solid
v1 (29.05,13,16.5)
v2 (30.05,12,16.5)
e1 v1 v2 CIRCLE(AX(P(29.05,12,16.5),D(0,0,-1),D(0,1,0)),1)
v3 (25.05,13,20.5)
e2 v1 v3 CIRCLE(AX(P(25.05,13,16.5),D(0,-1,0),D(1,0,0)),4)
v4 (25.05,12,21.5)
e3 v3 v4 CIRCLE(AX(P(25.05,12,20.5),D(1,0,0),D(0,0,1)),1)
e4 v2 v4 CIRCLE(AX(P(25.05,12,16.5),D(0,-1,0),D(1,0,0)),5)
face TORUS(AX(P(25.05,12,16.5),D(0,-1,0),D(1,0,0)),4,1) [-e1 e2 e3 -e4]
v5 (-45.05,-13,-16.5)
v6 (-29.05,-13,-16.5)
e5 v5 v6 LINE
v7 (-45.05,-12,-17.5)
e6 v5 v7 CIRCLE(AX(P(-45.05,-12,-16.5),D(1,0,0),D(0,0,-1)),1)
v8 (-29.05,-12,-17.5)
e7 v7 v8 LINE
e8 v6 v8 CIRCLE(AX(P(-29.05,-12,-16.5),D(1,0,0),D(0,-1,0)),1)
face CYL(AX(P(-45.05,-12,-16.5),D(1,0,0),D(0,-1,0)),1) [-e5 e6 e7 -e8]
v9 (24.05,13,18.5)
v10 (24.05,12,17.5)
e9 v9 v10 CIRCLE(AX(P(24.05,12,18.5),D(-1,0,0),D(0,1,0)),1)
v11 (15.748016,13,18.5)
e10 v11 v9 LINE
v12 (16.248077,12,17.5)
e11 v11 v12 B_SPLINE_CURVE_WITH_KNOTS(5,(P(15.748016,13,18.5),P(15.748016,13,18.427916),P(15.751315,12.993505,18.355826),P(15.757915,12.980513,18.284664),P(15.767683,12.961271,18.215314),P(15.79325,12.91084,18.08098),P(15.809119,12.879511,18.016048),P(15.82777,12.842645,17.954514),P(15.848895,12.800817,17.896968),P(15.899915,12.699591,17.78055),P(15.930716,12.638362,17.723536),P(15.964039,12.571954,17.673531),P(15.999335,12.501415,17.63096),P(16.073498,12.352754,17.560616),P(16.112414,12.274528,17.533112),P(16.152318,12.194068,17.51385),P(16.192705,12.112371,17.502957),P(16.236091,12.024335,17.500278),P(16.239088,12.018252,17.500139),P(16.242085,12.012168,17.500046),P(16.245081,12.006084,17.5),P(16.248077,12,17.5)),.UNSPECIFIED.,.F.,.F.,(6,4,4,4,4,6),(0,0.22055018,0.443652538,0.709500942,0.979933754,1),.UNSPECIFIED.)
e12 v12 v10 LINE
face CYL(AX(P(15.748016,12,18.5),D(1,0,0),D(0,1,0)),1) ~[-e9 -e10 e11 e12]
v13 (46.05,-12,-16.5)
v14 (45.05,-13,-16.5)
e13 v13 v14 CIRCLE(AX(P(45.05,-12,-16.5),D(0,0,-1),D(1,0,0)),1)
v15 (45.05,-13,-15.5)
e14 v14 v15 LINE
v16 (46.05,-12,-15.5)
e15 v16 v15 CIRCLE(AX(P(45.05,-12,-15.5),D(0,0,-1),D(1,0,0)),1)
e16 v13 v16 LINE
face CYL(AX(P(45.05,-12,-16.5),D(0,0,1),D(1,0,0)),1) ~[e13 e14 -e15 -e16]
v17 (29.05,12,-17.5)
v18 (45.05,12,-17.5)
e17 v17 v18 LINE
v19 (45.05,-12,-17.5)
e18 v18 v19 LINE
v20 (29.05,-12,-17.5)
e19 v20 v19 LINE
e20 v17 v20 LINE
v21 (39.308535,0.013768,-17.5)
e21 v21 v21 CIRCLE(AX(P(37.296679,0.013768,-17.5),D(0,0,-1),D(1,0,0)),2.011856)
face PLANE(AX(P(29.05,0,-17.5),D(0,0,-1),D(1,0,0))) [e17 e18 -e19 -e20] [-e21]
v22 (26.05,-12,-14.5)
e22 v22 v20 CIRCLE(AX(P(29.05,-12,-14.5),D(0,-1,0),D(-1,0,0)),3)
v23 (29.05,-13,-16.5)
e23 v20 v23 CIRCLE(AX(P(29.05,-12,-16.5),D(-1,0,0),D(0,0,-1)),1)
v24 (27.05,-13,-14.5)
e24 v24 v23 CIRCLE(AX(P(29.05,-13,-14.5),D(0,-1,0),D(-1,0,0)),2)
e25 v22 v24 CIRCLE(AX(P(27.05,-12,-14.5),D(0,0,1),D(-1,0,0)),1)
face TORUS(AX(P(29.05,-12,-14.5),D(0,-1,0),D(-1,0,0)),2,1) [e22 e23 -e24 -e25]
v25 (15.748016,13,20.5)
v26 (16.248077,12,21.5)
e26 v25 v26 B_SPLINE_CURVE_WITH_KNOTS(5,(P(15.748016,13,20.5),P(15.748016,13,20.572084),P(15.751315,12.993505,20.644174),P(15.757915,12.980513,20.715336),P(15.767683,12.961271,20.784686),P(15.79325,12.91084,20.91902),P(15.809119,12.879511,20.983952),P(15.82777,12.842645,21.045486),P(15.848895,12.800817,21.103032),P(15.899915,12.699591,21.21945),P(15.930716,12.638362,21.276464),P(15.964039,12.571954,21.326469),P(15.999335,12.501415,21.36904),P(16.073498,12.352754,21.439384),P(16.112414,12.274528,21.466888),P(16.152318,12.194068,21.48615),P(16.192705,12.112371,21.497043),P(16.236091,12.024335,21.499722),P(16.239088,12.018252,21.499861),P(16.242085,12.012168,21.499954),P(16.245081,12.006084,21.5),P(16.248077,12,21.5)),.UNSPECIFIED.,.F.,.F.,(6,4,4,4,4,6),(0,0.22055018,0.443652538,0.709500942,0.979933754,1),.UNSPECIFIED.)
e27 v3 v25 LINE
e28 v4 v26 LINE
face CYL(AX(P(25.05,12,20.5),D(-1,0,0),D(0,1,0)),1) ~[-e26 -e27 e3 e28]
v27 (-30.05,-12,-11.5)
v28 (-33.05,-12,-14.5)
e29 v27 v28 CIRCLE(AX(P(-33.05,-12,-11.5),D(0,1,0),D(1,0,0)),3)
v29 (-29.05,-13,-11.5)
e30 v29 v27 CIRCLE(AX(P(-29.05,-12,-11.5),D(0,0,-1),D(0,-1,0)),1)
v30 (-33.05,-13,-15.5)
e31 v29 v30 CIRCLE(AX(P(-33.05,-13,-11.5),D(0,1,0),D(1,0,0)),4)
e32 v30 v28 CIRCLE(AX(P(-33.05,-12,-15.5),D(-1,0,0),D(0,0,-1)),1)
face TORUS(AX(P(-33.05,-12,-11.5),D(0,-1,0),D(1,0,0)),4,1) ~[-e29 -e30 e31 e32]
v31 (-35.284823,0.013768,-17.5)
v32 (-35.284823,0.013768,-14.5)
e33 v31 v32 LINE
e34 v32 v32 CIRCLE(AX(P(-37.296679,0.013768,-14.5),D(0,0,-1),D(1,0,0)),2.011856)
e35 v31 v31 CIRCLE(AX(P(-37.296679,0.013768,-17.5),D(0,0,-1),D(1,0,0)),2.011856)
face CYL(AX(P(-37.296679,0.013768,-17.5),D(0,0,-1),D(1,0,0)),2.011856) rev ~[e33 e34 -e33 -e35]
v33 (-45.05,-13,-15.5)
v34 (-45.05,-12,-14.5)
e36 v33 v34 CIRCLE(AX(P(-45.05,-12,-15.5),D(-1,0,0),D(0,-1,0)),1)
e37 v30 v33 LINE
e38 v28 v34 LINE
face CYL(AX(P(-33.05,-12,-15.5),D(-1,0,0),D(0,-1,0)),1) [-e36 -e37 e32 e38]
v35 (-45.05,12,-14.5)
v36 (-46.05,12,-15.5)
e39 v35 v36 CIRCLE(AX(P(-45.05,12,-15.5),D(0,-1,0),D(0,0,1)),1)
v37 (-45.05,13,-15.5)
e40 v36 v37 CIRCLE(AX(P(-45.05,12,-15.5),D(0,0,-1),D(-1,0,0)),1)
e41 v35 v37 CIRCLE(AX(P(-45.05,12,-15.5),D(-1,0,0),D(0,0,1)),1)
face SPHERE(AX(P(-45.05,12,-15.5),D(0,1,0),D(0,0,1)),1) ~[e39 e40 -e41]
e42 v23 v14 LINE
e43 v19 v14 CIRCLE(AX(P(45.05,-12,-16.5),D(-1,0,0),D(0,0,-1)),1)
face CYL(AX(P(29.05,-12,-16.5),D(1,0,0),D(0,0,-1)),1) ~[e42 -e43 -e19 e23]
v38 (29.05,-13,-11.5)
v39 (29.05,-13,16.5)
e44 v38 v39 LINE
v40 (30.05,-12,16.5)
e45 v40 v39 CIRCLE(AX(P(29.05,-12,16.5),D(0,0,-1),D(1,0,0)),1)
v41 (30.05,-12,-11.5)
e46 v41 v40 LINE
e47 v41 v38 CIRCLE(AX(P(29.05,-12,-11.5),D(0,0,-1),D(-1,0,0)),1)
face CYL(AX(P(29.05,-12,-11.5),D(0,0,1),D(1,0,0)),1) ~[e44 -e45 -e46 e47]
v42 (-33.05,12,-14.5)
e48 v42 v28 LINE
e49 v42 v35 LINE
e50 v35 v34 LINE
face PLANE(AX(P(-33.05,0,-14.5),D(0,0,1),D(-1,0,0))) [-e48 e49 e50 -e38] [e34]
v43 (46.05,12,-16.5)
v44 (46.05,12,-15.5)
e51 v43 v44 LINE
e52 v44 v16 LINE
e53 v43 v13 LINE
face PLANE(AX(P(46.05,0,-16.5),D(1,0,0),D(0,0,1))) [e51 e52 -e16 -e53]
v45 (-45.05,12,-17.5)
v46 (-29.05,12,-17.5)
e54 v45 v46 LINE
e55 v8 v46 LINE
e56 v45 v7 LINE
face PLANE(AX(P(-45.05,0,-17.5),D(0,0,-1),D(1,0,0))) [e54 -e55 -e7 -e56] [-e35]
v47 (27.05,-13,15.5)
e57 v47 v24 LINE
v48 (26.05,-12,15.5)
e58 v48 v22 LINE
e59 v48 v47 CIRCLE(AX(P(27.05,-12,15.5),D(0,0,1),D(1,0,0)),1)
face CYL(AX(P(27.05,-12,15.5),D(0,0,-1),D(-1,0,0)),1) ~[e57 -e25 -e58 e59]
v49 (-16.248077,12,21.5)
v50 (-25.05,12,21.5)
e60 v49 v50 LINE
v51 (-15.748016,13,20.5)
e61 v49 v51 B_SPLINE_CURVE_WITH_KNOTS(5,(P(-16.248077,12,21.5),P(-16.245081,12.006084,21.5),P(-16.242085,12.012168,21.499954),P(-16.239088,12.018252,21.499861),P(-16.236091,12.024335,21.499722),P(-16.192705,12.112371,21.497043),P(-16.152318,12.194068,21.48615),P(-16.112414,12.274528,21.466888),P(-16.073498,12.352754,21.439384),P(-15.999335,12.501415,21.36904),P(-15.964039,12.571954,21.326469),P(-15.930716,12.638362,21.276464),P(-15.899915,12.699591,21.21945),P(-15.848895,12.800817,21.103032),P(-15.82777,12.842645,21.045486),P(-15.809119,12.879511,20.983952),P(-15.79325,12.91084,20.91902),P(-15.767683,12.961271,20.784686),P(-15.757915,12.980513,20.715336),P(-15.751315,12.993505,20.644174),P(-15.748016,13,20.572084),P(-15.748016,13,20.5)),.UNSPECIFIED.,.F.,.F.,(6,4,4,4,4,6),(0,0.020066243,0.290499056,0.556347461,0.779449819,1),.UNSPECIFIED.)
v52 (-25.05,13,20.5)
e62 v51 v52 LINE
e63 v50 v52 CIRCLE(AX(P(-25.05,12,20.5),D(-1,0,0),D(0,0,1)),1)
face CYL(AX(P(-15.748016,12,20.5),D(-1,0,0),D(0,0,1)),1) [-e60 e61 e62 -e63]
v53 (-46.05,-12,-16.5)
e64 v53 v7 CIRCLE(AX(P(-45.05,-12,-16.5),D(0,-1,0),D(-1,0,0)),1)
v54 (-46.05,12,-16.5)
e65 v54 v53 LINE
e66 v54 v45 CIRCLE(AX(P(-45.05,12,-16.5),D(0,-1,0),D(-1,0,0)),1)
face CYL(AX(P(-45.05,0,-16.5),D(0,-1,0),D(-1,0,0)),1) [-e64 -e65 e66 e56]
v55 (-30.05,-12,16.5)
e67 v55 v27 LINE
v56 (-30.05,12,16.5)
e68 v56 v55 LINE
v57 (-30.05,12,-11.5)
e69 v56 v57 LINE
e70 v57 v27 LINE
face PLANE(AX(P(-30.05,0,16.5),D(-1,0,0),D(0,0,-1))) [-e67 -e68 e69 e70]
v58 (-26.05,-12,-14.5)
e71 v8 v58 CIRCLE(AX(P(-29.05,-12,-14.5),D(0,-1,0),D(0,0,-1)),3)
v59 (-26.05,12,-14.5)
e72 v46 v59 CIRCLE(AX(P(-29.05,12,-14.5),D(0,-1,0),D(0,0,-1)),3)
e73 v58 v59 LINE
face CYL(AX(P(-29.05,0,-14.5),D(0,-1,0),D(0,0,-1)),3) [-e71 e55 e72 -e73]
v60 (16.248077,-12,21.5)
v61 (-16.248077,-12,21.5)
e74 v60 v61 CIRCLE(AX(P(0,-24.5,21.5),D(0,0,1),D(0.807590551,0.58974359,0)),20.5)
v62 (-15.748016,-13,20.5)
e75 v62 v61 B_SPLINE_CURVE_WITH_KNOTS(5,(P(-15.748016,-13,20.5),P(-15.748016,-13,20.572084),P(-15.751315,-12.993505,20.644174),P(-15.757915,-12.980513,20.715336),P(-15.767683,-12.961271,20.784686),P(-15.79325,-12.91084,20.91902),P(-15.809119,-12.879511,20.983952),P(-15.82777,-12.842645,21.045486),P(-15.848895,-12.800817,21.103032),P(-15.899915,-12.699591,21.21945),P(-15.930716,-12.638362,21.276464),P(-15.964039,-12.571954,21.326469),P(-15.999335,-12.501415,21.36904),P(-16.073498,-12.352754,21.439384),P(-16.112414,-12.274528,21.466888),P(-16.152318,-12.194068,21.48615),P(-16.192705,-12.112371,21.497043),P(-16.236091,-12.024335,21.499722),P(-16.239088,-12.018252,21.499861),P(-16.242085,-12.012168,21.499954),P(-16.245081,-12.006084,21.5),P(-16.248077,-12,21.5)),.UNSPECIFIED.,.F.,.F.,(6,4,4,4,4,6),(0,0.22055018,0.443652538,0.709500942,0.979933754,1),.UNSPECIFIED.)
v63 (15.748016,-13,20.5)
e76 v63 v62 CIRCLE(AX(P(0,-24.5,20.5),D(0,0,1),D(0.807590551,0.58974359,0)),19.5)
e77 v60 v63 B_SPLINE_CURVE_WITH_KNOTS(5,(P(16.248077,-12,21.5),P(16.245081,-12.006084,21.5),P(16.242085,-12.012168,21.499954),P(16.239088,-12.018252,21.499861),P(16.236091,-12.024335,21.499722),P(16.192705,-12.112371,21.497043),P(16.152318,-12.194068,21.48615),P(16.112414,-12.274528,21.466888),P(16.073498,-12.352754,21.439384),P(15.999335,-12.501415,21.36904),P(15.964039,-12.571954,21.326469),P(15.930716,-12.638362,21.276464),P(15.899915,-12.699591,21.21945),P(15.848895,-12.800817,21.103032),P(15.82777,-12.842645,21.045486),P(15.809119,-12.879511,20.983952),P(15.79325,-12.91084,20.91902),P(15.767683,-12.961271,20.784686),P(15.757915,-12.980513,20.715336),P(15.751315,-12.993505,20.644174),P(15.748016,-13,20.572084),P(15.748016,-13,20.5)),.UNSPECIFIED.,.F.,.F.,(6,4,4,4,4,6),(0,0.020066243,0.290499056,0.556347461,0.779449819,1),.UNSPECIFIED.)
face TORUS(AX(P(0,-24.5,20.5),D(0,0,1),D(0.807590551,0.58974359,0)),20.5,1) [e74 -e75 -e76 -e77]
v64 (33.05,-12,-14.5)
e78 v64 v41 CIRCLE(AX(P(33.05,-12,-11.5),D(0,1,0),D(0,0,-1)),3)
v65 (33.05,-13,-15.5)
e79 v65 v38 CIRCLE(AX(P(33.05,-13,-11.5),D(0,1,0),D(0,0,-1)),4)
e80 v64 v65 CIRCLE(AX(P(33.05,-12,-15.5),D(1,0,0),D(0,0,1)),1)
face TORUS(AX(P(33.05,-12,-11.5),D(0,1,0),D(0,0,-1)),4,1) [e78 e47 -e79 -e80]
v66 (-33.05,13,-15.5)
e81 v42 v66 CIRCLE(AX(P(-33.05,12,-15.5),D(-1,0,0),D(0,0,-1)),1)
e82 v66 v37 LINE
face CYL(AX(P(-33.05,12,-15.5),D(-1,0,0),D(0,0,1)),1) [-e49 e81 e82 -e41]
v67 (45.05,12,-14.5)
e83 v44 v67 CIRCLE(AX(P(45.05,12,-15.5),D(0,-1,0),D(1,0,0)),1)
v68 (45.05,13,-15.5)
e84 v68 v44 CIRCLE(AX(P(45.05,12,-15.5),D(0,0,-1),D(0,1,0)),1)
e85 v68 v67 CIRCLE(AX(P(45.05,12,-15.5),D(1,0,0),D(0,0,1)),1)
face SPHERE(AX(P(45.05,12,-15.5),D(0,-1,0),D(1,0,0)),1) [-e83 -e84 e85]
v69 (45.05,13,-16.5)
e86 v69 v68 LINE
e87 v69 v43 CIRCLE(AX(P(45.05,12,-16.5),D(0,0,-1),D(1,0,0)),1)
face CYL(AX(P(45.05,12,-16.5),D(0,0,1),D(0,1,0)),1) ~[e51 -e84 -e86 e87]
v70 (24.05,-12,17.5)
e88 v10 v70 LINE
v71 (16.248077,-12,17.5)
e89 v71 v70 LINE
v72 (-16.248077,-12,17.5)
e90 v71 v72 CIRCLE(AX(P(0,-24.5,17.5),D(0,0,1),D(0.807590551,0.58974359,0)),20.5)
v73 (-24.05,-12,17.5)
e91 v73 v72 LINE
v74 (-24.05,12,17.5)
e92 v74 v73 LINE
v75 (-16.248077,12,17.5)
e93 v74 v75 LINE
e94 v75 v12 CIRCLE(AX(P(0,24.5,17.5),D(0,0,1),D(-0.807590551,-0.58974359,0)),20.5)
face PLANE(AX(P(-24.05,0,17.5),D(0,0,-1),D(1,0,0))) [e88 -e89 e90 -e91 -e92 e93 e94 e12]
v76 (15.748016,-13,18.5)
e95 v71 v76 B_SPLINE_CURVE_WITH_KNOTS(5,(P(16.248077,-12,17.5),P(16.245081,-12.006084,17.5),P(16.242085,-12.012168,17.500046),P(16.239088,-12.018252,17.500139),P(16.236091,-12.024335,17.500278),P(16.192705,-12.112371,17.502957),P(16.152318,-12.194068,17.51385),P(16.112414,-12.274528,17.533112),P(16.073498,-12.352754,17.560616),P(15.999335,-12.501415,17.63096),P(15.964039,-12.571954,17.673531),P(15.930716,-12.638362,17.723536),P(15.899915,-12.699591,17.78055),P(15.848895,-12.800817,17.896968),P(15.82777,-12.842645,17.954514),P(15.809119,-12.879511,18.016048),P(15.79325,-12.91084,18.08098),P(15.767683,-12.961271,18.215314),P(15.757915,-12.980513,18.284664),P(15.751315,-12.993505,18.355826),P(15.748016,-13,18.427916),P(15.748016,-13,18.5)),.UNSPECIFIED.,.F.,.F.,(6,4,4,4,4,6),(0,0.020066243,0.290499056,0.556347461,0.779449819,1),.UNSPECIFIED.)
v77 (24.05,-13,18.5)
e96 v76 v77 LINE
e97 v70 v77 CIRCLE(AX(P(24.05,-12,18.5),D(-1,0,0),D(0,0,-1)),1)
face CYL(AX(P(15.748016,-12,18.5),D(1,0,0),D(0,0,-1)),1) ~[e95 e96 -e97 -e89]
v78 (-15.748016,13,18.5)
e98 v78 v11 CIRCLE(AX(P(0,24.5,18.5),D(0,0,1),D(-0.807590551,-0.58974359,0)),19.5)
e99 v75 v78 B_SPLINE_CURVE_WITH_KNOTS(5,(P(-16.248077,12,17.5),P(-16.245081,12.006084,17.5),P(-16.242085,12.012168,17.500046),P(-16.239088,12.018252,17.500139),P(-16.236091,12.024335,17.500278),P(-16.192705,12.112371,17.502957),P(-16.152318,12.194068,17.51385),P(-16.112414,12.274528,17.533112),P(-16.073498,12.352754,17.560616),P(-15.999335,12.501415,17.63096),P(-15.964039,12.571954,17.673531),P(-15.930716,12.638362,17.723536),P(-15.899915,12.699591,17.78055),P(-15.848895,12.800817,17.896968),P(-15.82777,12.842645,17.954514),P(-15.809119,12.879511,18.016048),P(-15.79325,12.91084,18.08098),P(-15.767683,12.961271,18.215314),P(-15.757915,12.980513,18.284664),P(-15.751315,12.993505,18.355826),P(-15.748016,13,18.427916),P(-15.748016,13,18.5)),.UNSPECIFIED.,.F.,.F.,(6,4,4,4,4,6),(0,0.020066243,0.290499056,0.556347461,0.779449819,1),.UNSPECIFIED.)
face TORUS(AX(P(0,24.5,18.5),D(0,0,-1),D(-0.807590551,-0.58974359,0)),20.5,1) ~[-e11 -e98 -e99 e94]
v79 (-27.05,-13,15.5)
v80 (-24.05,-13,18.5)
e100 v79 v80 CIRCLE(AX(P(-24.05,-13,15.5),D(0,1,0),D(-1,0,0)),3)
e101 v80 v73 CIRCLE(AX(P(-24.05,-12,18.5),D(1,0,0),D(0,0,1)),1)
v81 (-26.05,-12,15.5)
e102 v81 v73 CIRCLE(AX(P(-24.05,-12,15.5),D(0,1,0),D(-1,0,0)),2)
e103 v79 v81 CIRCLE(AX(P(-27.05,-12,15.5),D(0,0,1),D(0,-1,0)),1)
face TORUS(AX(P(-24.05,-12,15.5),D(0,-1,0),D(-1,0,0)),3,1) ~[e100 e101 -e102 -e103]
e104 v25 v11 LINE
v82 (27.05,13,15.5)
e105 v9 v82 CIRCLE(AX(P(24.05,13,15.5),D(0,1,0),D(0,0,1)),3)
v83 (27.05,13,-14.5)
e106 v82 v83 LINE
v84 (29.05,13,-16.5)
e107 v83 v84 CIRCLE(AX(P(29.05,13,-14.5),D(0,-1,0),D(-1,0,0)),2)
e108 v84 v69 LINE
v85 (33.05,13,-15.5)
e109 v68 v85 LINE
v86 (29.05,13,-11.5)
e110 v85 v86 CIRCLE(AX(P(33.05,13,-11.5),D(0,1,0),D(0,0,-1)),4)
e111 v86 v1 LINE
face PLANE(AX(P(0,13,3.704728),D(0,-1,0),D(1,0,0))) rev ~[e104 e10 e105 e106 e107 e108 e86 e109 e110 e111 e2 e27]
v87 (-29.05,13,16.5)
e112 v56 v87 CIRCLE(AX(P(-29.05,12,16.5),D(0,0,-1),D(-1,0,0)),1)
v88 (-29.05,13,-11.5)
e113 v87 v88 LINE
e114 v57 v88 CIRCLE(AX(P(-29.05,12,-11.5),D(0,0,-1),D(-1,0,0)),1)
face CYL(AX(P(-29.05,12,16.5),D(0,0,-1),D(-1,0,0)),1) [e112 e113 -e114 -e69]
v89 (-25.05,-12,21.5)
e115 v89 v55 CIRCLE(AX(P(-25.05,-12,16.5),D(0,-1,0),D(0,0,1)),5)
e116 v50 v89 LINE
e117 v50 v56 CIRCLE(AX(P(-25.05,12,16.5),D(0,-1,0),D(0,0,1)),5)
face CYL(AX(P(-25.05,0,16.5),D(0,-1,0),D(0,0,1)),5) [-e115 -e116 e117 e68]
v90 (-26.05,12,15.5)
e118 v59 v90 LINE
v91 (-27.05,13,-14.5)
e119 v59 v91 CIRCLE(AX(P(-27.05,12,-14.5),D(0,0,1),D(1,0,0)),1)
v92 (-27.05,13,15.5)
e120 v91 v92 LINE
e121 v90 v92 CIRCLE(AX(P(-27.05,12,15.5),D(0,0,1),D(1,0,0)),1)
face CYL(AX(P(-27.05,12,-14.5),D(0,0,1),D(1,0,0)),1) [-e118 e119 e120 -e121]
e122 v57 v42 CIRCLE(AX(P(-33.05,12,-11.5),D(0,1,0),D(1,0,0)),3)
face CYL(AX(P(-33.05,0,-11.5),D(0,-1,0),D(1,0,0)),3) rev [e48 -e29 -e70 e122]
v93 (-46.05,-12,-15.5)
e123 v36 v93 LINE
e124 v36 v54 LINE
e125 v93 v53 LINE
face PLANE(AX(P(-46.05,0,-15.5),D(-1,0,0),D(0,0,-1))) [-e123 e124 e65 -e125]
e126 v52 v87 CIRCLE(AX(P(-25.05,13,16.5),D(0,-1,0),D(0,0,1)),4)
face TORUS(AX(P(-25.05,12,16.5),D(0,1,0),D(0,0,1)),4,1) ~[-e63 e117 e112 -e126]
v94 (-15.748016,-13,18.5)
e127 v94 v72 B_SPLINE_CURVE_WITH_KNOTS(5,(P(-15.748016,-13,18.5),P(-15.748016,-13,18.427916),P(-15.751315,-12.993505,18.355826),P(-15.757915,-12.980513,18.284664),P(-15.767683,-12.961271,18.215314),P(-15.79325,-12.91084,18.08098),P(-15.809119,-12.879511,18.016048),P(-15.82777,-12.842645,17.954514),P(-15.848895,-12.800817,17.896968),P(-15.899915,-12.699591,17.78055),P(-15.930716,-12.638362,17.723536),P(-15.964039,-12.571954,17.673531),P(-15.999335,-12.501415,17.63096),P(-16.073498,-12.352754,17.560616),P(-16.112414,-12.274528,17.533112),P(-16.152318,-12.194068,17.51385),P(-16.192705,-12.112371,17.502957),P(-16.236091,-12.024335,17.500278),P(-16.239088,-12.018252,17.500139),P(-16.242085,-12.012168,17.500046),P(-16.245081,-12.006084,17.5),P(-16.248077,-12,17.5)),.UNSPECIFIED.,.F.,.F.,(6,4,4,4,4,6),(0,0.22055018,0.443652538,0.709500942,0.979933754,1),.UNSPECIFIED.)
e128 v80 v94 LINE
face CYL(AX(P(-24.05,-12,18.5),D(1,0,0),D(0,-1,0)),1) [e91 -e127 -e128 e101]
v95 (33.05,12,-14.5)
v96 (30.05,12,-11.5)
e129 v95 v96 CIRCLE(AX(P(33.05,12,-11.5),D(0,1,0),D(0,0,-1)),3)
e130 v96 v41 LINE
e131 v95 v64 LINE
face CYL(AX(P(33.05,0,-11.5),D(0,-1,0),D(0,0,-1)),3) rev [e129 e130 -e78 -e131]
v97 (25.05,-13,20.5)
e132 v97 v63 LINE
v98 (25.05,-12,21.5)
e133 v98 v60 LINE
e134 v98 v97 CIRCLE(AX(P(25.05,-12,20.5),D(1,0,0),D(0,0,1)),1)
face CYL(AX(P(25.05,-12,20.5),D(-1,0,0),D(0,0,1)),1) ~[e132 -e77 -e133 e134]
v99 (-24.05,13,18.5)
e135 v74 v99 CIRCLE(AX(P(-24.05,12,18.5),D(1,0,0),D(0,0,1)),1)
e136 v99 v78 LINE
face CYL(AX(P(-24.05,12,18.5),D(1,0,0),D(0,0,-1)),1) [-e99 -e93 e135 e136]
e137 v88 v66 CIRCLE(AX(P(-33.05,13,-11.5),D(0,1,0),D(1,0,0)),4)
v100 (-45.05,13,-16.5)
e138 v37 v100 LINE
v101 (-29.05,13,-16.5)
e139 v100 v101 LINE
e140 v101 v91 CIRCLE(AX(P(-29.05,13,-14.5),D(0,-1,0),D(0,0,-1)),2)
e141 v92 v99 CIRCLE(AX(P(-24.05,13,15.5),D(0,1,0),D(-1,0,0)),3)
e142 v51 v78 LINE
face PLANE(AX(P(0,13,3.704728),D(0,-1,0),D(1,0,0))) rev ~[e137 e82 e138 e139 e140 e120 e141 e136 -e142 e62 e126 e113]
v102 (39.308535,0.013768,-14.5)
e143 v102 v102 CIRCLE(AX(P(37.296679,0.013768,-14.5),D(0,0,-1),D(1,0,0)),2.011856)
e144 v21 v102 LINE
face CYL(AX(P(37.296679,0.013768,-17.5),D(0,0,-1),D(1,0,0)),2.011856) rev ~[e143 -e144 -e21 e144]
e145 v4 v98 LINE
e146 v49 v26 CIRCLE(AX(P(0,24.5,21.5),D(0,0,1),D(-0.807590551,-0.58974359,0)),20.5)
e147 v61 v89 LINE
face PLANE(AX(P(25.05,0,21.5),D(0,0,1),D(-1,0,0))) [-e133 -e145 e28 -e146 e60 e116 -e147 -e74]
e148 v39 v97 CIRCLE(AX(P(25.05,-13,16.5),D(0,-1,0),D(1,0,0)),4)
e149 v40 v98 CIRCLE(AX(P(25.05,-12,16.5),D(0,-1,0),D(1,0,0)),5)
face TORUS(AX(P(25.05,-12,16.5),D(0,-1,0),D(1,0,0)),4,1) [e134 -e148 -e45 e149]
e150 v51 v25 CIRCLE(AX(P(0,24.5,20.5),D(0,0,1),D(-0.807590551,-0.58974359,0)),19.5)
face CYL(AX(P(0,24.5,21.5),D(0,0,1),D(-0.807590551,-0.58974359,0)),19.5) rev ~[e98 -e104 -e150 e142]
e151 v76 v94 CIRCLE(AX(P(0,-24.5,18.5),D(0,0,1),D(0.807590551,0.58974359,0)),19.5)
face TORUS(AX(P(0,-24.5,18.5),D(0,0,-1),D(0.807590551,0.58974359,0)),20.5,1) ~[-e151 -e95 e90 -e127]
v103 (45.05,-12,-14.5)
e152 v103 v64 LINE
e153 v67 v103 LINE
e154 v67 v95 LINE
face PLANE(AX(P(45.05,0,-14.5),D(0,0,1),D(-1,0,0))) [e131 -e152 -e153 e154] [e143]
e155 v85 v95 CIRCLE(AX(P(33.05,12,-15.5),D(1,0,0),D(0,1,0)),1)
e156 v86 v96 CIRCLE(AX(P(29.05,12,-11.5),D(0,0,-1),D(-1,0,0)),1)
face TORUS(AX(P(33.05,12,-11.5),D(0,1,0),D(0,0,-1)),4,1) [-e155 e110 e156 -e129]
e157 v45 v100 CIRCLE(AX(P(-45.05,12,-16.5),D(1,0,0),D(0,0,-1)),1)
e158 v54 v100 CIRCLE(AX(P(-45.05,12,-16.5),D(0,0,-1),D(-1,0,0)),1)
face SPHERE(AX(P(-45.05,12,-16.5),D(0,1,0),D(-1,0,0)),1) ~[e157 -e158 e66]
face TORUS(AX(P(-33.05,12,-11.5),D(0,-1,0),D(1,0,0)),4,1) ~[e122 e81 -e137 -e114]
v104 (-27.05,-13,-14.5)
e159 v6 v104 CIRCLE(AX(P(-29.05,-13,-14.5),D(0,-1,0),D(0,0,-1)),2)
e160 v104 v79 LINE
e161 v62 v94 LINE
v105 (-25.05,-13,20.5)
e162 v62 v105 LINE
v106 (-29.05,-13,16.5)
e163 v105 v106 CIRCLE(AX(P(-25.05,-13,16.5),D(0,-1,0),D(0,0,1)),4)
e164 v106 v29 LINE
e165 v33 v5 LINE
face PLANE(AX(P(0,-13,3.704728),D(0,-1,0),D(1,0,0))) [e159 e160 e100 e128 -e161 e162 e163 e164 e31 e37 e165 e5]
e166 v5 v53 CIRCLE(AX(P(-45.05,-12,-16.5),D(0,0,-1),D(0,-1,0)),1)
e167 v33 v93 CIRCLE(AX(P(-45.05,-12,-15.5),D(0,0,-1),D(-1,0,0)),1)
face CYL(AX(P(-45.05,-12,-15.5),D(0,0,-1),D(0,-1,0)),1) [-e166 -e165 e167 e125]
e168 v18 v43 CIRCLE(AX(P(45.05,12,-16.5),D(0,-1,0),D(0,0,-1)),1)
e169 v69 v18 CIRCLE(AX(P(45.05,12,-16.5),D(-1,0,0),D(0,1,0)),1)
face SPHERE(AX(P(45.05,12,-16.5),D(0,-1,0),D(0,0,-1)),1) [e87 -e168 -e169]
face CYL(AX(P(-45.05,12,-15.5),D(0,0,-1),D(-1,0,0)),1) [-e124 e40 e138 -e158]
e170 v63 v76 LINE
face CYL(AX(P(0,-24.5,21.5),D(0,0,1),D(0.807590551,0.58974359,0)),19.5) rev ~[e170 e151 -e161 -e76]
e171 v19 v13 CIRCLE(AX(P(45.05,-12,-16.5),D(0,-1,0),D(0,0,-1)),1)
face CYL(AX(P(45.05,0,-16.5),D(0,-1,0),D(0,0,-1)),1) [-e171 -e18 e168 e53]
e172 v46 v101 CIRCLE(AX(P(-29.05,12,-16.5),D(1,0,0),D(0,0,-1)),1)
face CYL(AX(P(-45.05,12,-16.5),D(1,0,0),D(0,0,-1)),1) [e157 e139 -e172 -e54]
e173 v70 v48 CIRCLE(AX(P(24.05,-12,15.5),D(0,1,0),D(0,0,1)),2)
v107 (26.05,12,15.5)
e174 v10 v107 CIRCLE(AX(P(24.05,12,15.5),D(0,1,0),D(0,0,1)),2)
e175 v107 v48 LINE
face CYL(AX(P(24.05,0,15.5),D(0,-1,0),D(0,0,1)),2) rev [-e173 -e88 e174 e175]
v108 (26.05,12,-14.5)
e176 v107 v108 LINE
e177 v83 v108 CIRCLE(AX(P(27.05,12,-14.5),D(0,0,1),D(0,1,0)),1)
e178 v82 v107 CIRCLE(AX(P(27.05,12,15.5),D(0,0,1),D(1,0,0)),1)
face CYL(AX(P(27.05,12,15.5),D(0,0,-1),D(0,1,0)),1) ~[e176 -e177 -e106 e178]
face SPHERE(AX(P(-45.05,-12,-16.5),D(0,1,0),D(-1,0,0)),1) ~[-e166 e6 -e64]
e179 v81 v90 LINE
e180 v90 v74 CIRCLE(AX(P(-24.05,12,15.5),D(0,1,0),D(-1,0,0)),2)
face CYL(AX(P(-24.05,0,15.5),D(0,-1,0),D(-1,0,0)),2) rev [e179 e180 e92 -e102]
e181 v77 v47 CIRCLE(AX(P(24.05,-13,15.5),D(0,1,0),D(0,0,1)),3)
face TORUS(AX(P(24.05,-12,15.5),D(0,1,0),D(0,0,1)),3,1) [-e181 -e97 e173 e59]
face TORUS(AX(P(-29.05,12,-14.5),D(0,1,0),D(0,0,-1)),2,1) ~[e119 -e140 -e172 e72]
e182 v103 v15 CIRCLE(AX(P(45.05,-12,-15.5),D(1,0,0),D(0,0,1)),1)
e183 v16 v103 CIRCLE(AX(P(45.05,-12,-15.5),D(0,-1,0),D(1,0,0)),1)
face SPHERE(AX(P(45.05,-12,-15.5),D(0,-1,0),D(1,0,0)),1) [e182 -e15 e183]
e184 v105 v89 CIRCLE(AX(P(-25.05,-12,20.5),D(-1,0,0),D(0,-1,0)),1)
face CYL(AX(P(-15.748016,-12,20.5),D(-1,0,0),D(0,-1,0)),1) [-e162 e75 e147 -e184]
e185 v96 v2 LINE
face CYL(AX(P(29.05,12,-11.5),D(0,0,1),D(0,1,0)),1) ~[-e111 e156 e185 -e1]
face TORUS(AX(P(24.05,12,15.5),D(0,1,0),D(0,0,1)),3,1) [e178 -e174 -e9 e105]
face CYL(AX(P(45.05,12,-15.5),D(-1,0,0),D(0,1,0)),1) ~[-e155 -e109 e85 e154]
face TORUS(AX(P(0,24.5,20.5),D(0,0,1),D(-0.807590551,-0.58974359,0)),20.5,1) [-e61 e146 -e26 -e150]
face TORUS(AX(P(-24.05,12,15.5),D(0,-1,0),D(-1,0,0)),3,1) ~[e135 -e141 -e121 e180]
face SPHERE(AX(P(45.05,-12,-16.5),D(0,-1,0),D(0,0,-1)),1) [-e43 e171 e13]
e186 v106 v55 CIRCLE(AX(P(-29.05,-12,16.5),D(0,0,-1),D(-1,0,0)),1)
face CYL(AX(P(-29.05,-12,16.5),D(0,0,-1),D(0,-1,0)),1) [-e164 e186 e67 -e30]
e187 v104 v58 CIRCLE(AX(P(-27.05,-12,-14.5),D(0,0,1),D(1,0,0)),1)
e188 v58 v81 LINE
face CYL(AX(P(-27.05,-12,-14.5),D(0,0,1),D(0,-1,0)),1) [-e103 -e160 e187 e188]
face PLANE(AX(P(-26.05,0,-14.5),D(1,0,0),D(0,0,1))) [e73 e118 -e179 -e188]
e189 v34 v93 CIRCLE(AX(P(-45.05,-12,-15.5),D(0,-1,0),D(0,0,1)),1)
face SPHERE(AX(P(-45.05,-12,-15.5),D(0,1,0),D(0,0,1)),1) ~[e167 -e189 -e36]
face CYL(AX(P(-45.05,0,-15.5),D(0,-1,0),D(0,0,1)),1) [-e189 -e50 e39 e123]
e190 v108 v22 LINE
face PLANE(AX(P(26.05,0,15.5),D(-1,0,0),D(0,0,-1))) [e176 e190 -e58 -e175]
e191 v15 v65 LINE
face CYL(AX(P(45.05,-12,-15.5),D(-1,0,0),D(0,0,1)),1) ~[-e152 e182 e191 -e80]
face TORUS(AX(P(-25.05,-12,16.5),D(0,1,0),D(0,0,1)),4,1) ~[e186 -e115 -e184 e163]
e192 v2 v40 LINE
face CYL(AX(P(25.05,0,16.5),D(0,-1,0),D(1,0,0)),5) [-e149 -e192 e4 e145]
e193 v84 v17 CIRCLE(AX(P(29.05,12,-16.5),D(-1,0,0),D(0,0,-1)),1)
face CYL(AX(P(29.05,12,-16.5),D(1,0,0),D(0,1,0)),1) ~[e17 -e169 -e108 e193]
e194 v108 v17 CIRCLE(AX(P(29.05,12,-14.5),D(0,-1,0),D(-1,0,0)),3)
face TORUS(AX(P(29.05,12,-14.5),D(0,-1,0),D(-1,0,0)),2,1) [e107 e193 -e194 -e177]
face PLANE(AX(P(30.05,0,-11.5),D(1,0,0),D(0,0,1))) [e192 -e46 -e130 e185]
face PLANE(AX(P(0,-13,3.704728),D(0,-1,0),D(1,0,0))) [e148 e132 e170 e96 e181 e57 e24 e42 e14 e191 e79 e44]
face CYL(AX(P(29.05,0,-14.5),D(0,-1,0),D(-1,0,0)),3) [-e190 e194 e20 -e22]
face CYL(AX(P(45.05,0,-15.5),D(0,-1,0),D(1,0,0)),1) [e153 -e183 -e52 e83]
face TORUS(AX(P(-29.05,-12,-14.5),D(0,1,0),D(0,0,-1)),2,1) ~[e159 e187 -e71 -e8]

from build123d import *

# Parameters (mm, degrees)
F1_DEPTH = 13
F3_DEPTH = 39.001
F4_R     = 2.0118562564
F5_DEPTH = 39.001
F6_R     = 1


with BuildPart() as f1:
    # F0 (on Front) → F1 (new body, symmetric)
    with BuildSketch(Plane.XZ):
        with BuildLine():
            ThreePointArc((-26.05, 15.5), (-25.4642135624, 16.9142135624), (-24.05, 17.5))
            Line((-24.05, 17.5), (24.05, 17.5))
            ThreePointArc((24.05, 17.5), (25.4642135624, 16.9142135624), (26.05, 15.5))
            Line((26.05, 15.5), (26.05, -14.5))
            ThreePointArc((26.05, -14.5), (26.9286796564, -16.6213203436), (29.05, -17.5))
            Line((29.05, -17.5), (30.05, -17.5))
            Line((30.05, -17.5), (45.05, -17.5))
            ThreePointArc((45.05, -17.5), (45.7571067812, -17.2071067812), (46.05, -16.5))
            Line((46.05, -16.5), (46.05, -15.5))
            ThreePointArc((46.05, -15.5), (45.7571067812, -14.7928932188), (45.05, -14.5))
            Line((45.05, -14.5), (33.05, -14.5))
            ThreePointArc((33.05, -14.5), (30.9286796564, -13.6213203436), (30.05, -11.5))
            Line((30.05, -11.5), (30.05, 16.5))
            ThreePointArc((30.05, 16.5), (28.5855339059, 20.0355339059), (25.05, 21.5))
            Line((25.05, 21.5), (-25.05, 21.5))
            ThreePointArc((-25.05, 21.5), (-28.5855339059, 20.0355339059), (-30.05, 16.5))
            Line((-30.05, 16.5), (-30.05, -11.5))
            ThreePointArc((-30.05, -11.5), (-30.9286796564, -13.6213203436), (-33.05, -14.5))
            Line((-33.05, -14.5), (-45.05, -14.5))
            ThreePointArc((-45.05, -14.5), (-45.7571067812, -14.7928932188), (-46.05, -15.5))
            Line((-46.05, -15.5), (-46.05, -16.5))
            ThreePointArc((-46.05, -16.5), (-45.7571067812, -17.2071067812), (-45.05, -17.5))
            Line((-45.05, -17.5), (-30.05, -17.5))
            Line((-30.05, -17.5), (-29.05, -17.5))
            ThreePointArc((-29.05, -17.5), (-26.9286796564, -16.6213203436), (-26.05, -14.5))
            Line((-26.05, -14.5), (-26.05, 15.5))
        make_face()
    extrude(amount=F1_DEPTH, both=True)

    # F2 (on face) → F3 (cut, through all)
    with BuildSketch(Plane.XY.offset(21.5)):
        with BuildLine():
            Line((15.748015748, 13), (-15.748015748, 13))
            ThreePointArc((-15.748015748, 13), (0, 5), (15.748015748, 13))
        make_face()
        with BuildLine():
            ThreePointArc((15.748015748, -13), (0, -5), (-15.748015748, -13))
            Line((-15.748015748, -13), (15.748015748, -13))
        make_face()
    extrude(amount=-F3_DEPTH, mode=Mode.SUBTRACT)

    # F4 (on face) → F5 (cut, through all)
    with BuildSketch(Plane(origin=(0, 0, -17.5), x_dir=(1, 0, 0), z_dir=(0, 0, -1))):
        with Locations((37.2966788709, -0.0137676216)):
            Circle(F4_R)
        with Locations((-37.2966788709, -0.0137676216)):
            Circle(F4_R)
    extrude(amount=-F5_DEPTH, mode=Mode.SUBTRACT)

    # F6
    f6_edges = [f1.edges().sort_by_distance(p)[0] for p in [
        (-30.05, -13, 2.5),
        (-28.585534, -13, 20.035534),
        (-20.399008, -13, 21.5),
        (0, -5, 21.5),
        (0, -5, 17.5),
        (19.899008, -13, 17.5),
        (20.399008, -13, 21.5),
        (28.585534, -13, 20.035534),
        (24.05, 0, 17.5),
        (30.05, 13, 2.5),
        (0, 5, 21.5),
        (0, 5, 17.5),
        (-25.464214, 13, 16.914214),
    ]]
    fillet(f6_edges, radius=F6_R)


solid = f1.part
